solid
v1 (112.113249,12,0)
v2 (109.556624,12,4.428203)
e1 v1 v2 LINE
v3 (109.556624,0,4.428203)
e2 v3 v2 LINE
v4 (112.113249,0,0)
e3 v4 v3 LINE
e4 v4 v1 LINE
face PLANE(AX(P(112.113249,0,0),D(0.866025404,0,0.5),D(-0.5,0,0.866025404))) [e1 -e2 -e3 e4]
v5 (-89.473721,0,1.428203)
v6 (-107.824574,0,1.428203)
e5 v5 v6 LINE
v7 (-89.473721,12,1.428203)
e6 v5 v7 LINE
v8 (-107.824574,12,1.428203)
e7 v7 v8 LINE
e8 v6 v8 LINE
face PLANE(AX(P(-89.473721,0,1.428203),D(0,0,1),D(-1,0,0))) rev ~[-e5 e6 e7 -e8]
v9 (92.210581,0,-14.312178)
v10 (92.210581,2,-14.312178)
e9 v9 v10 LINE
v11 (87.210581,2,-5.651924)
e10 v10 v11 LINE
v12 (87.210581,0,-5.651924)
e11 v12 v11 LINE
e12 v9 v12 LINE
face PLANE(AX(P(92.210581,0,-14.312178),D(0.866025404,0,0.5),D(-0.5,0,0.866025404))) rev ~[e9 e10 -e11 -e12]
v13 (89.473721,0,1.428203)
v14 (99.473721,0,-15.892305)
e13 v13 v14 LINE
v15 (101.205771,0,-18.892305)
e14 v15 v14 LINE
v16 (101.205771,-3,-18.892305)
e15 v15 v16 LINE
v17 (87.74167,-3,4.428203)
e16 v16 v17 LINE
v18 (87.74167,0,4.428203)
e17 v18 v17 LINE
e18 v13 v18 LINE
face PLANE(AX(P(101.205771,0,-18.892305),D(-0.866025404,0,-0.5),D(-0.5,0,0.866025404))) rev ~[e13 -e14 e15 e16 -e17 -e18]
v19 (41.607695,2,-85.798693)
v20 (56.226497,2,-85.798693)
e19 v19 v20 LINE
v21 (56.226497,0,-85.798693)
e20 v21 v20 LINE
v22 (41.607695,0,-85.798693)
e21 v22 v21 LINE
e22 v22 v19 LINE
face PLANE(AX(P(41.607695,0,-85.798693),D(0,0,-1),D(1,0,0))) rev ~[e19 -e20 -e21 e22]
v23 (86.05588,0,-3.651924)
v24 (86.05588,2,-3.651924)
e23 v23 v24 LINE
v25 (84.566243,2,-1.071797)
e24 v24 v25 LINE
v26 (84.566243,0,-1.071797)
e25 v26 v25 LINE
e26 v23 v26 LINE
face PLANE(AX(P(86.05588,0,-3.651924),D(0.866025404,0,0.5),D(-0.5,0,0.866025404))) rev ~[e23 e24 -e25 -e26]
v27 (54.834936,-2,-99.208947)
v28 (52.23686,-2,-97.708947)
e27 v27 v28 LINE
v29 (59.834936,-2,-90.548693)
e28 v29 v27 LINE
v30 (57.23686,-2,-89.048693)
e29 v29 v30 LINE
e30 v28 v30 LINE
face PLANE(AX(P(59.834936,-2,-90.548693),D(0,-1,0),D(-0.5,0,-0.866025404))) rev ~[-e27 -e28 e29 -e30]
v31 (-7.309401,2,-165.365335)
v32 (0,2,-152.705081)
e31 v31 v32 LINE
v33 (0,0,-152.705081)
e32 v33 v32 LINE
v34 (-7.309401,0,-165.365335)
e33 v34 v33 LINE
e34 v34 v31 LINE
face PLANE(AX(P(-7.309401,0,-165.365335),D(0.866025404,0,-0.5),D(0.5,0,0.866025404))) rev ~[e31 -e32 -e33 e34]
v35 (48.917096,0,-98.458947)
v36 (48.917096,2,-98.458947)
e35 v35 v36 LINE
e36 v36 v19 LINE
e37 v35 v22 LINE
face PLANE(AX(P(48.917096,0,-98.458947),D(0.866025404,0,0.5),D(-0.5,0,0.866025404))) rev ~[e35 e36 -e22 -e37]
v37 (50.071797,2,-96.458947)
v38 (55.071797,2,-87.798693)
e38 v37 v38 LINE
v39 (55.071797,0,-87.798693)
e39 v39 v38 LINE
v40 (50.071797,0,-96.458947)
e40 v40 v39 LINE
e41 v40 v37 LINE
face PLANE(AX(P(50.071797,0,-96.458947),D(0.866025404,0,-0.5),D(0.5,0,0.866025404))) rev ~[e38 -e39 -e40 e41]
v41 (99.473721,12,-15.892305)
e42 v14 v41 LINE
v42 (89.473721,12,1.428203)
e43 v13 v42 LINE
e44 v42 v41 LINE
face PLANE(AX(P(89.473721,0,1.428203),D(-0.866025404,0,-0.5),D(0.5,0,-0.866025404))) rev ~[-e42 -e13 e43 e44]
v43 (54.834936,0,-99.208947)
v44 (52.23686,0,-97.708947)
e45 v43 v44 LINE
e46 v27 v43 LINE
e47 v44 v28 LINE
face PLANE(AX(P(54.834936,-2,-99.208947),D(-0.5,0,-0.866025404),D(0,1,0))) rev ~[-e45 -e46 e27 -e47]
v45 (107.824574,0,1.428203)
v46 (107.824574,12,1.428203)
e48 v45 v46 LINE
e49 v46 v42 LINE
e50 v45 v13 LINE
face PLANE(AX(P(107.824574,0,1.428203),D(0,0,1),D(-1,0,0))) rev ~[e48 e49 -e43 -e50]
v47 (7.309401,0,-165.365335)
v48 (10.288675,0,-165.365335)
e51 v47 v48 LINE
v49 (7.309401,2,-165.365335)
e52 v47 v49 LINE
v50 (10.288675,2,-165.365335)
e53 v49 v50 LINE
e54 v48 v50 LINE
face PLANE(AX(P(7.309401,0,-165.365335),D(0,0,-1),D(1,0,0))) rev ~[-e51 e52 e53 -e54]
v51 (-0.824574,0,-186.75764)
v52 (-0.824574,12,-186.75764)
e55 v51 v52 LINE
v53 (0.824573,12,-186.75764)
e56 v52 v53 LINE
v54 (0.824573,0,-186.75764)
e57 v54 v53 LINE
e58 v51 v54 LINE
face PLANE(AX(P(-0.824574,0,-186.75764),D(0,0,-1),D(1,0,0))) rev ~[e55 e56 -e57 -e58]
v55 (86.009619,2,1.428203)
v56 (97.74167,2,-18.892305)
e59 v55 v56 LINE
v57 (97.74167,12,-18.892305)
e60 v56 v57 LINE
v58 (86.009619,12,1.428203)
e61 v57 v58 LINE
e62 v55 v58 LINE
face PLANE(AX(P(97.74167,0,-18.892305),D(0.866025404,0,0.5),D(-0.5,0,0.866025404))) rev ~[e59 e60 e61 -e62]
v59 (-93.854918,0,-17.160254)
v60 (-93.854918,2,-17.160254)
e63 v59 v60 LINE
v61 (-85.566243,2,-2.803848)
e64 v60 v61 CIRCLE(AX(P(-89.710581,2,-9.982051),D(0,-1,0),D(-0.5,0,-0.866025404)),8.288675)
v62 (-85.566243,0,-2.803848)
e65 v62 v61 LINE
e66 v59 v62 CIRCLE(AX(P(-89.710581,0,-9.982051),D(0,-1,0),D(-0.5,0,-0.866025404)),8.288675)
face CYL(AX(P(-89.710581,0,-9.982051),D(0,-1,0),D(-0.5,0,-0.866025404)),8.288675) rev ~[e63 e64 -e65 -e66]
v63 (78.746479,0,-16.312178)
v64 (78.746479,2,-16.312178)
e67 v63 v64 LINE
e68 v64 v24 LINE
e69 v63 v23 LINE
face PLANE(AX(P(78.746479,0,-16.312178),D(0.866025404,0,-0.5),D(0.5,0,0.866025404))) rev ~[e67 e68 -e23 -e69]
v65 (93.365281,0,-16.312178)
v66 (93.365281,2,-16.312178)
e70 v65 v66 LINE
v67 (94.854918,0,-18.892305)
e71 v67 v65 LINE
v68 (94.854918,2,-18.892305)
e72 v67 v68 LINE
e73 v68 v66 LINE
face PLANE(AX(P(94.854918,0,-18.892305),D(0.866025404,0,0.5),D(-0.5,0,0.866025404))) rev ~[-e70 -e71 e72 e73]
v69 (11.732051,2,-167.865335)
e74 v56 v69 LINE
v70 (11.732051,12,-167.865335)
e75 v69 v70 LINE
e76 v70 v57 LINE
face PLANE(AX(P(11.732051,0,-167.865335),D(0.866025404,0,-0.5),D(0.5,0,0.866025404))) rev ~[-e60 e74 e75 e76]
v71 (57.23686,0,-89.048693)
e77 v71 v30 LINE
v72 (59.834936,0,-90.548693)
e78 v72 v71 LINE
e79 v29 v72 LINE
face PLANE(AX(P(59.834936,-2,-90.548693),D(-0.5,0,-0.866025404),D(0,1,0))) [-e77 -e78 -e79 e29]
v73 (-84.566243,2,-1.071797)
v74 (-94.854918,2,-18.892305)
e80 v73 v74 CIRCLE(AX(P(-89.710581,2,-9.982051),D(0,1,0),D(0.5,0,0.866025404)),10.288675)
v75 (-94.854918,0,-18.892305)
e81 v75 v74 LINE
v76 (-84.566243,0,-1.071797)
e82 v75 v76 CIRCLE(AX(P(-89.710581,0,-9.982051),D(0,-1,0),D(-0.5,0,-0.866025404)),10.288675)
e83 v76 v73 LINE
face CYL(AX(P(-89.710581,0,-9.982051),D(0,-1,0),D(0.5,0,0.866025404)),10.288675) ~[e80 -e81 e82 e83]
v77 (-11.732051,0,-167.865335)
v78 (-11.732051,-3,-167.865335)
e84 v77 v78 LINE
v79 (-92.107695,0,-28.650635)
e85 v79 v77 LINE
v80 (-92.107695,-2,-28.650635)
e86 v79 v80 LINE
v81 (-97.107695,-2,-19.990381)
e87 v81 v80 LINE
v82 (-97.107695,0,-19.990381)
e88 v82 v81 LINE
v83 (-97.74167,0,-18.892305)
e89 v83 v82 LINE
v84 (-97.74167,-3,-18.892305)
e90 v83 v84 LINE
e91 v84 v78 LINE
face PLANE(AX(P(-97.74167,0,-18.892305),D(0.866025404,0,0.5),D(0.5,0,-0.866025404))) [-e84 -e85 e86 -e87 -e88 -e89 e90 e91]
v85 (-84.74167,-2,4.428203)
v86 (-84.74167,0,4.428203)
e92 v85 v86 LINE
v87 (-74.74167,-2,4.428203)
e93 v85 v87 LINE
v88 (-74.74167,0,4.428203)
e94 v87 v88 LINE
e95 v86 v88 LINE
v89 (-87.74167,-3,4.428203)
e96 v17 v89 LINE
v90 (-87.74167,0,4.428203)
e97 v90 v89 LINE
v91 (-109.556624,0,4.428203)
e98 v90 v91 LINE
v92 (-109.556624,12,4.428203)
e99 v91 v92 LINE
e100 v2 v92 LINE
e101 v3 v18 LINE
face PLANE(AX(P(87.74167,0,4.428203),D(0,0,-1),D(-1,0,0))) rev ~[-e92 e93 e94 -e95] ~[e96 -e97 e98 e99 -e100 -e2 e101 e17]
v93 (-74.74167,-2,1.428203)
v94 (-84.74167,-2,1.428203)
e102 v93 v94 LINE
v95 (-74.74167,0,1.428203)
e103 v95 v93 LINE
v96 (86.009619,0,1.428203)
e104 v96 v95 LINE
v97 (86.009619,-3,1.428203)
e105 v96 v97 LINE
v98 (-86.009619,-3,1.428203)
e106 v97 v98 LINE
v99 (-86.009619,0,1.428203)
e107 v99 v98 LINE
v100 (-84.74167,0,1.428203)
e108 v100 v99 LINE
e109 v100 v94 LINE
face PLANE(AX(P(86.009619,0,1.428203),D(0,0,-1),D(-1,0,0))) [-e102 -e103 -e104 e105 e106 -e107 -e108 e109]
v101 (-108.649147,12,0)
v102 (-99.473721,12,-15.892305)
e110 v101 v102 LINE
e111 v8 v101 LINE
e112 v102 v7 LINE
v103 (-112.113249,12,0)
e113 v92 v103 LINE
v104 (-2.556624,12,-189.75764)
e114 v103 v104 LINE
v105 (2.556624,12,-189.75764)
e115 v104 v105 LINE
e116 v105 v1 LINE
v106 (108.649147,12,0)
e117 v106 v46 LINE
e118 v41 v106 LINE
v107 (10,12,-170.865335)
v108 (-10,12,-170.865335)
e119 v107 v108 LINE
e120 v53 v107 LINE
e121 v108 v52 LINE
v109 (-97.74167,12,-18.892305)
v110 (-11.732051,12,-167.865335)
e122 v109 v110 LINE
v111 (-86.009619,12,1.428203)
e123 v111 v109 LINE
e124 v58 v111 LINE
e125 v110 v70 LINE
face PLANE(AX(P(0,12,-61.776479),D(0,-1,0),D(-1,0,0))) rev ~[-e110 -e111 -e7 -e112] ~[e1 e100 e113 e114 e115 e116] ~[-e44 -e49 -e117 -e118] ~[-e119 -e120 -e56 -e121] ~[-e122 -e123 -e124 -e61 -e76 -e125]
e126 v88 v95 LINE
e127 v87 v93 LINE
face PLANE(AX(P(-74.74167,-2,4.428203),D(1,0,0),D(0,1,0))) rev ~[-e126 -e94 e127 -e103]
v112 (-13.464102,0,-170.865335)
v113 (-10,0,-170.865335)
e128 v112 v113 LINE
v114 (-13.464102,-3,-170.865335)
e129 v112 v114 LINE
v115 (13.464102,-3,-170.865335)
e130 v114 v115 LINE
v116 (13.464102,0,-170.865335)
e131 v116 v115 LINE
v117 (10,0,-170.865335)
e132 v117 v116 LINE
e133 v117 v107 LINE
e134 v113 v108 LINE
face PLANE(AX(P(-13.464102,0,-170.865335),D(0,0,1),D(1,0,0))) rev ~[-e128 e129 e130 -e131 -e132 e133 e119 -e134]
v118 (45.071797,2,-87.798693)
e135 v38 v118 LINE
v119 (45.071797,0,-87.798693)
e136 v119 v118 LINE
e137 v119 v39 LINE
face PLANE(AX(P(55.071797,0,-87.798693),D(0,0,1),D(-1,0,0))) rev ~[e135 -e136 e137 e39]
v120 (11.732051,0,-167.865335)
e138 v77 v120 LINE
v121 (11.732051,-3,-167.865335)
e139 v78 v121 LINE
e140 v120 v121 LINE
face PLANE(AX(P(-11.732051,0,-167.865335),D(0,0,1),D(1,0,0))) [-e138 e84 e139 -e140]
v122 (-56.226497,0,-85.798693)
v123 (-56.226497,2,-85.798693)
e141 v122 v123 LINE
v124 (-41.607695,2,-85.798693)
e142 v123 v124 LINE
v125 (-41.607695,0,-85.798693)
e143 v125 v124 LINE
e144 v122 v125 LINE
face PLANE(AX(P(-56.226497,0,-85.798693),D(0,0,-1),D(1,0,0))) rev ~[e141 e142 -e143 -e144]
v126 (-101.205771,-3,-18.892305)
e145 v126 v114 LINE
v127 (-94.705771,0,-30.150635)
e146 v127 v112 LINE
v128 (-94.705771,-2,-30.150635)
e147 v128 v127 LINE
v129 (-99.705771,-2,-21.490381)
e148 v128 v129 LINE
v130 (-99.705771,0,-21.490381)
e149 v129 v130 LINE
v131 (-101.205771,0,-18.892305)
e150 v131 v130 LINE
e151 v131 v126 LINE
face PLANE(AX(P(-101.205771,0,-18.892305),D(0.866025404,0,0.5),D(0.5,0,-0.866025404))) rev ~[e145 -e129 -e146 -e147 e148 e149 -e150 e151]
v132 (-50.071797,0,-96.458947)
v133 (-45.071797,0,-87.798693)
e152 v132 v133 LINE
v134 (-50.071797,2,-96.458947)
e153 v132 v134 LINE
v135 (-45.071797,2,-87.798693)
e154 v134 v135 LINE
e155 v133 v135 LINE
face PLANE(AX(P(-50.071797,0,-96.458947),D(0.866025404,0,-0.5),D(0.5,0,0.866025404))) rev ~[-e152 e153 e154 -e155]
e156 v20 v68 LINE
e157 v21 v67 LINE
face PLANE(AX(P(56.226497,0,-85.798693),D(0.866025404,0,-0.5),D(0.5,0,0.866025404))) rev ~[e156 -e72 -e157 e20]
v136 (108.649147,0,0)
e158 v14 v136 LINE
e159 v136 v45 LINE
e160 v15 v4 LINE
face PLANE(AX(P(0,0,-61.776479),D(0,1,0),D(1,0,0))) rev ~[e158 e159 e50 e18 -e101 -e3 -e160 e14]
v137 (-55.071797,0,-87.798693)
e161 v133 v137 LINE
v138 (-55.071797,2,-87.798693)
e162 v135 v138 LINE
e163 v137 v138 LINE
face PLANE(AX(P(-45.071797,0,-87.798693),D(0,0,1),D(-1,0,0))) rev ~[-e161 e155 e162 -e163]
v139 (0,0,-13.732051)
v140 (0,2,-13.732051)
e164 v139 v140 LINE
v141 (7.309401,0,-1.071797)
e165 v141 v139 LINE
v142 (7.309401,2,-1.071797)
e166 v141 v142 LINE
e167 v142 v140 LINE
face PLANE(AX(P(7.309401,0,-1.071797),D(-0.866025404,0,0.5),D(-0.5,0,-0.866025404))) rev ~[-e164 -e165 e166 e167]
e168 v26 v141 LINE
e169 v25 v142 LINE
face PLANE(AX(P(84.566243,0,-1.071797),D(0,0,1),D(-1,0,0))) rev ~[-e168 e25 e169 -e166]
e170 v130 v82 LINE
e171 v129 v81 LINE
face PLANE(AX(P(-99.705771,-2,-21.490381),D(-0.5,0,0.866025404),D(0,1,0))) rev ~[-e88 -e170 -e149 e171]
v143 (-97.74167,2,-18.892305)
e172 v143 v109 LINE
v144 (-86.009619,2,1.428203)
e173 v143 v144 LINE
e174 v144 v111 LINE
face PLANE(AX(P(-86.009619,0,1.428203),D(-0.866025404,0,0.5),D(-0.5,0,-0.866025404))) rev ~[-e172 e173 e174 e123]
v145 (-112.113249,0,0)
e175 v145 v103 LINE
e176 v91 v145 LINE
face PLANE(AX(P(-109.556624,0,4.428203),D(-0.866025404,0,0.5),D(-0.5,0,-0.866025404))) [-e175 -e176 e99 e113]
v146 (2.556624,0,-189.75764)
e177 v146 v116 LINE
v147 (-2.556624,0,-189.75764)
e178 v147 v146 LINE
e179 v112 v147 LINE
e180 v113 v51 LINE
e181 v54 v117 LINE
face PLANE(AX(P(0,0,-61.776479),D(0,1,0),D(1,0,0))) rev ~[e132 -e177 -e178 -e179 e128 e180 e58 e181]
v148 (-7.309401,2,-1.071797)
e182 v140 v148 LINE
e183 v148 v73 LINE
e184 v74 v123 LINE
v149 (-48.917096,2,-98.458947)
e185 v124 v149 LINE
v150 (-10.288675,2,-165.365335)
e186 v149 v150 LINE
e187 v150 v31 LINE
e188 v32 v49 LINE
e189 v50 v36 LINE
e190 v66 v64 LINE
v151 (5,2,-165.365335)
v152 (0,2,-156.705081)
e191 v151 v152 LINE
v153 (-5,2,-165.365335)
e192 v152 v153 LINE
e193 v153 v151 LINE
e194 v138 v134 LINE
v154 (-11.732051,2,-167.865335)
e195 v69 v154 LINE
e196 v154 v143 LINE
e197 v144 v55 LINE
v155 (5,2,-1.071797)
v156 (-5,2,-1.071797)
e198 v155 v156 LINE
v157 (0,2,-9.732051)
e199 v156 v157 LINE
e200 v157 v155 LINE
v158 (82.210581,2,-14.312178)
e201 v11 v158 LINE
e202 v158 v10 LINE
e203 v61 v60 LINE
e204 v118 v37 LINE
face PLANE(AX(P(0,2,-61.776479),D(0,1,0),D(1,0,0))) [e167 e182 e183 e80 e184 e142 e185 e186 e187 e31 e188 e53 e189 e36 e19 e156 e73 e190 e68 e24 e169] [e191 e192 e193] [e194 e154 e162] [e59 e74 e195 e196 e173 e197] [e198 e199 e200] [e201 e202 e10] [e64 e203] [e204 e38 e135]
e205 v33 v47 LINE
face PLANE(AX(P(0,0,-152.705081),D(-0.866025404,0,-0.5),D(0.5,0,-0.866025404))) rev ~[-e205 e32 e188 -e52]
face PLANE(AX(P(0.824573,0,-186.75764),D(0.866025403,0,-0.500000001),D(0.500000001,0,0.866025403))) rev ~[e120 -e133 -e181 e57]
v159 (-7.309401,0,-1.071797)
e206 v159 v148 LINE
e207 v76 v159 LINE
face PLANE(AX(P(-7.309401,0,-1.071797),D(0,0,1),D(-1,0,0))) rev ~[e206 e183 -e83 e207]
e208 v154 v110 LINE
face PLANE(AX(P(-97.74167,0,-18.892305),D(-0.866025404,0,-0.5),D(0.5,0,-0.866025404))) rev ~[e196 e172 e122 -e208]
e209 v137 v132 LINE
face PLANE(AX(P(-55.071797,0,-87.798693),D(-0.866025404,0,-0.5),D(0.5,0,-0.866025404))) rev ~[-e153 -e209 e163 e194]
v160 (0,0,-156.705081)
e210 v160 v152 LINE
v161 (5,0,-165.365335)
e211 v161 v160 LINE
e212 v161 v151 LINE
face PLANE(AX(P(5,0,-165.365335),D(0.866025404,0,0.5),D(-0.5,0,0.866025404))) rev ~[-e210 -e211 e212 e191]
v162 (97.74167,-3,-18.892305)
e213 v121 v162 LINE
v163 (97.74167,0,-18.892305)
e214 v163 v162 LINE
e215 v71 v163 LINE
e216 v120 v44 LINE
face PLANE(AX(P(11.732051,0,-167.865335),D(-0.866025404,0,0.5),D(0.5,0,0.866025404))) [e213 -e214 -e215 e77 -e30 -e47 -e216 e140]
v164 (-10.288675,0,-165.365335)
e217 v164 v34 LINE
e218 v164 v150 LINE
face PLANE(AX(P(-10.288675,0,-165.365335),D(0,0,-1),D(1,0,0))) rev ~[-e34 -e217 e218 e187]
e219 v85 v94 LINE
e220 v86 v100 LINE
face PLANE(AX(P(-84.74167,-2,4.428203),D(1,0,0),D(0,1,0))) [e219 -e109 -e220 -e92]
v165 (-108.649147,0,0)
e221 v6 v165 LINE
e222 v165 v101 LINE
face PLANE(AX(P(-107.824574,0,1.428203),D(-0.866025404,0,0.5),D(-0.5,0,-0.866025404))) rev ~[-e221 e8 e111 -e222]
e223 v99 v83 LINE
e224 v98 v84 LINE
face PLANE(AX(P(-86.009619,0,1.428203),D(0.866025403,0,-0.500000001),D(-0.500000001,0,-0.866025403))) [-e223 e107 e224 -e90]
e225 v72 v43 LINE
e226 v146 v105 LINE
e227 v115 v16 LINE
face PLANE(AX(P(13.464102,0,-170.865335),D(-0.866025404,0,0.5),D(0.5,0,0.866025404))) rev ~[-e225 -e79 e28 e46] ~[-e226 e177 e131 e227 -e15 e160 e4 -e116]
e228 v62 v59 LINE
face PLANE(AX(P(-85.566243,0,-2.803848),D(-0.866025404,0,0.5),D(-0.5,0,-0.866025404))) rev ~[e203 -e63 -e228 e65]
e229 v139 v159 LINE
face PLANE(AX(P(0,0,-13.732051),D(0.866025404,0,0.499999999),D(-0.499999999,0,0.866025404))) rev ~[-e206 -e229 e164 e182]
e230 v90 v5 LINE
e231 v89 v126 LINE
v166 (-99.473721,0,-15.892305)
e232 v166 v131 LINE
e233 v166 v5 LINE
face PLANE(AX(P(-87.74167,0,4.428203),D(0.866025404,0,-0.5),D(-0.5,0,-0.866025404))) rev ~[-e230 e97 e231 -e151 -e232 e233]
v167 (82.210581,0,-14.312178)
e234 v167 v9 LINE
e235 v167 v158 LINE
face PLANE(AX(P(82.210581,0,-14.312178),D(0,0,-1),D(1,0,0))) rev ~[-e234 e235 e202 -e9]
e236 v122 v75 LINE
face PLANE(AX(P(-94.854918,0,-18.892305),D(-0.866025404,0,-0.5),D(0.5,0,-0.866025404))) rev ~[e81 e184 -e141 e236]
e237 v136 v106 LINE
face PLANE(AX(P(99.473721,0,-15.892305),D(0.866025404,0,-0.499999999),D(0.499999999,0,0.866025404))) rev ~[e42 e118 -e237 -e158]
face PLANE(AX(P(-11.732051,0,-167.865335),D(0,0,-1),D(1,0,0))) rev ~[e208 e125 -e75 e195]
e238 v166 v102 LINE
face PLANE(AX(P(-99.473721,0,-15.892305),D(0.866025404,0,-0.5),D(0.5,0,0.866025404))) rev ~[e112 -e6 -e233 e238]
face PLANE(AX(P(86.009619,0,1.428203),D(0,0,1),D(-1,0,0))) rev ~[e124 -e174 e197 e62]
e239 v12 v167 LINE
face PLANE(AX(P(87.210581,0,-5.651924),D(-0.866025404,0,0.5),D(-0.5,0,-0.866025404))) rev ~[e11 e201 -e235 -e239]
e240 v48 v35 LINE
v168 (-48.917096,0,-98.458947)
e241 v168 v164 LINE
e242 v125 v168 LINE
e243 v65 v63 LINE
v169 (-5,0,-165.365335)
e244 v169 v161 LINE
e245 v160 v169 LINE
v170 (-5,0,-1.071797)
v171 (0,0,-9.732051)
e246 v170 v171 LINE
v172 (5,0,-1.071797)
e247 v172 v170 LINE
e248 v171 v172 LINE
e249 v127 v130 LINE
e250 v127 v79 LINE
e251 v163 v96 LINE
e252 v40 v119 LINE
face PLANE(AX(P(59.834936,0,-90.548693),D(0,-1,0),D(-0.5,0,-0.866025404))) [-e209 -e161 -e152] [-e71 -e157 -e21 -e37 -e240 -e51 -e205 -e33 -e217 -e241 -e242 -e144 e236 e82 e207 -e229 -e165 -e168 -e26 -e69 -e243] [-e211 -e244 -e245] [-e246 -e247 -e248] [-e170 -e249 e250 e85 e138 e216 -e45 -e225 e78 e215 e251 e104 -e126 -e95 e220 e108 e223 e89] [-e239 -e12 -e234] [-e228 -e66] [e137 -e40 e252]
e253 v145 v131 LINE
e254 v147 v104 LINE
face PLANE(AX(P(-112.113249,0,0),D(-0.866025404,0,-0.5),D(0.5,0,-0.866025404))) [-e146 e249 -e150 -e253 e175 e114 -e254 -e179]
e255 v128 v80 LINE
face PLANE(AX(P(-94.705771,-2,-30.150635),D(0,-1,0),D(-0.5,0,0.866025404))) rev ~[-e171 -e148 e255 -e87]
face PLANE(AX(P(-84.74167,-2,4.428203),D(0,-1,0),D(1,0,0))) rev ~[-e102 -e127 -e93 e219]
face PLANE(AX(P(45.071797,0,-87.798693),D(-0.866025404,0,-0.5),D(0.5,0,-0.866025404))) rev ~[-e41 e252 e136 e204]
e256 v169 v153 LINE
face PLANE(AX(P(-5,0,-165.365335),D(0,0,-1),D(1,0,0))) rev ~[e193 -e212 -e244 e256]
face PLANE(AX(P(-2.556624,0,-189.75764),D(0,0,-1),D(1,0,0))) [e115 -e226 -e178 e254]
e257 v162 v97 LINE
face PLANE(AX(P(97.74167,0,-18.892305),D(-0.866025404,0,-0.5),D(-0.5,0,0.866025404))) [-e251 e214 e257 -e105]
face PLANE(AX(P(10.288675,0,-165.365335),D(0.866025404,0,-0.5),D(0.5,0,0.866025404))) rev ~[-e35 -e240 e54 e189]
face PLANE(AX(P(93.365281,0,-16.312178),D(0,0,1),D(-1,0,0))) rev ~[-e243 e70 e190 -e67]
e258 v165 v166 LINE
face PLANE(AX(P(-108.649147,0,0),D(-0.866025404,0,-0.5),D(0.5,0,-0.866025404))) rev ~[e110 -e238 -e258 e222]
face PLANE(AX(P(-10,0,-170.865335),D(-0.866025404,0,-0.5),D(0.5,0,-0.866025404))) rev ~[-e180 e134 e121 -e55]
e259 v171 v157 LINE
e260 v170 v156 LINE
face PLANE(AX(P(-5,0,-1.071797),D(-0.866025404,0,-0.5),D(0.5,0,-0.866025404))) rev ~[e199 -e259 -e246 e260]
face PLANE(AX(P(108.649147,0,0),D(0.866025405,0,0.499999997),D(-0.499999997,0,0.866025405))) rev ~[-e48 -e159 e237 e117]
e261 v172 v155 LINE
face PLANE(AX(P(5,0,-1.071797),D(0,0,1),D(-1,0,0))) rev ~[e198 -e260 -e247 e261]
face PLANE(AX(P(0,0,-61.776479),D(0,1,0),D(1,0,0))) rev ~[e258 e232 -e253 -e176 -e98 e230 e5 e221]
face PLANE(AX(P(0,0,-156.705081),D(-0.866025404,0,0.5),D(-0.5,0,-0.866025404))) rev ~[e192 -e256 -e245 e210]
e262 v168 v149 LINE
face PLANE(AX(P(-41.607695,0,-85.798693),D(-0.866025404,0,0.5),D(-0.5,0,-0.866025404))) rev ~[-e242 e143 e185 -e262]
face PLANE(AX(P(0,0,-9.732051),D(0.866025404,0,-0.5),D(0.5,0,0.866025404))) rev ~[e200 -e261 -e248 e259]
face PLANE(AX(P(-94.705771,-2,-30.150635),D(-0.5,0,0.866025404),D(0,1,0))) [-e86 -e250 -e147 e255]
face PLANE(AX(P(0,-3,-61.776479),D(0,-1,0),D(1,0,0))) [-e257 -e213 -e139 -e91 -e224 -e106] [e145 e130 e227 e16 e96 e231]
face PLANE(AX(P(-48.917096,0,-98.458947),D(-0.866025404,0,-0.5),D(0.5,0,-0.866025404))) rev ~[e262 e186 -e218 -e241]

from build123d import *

# Parameters (mm, degrees)
BOSS_EXTRUDE1_DEPTH = 12
BOSS_EXTRUDE2_DEPTH = 2
BOSS_EXTRUDE3_DEPTH = 3
SKETCH4_W           = 10
SKETCH4_H           = 2
CUT_EXTRUDE1_DEPTH  = 6
SKETCH5_W           = 10
SKETCH5_H           = 2
CUT_EXTRUDE2_DEPTH  = 6
SKETCH6_W           = 10
SKETCH6_H           = 2
CUT_EXTRUDE3_DEPTH  = 6


with BuildPart() as part:
    # Sketch1 → Boss-Extrude1 (new body)
    with BuildSketch(Plane(origin=(0, 0, 0), x_dir=(1, 0, 0), z_dir=(0, 1, 0))):
        Polygon((109.556624327, -4.42820323), (-109.556624327, -4.42820323), (-112.113248654, 0), (-2.55662435, 189.757639654), (2.556624303, 189.757639654), (112.113248654, 0), align=None)
        Polygon((-107.82457352, -1.42820323), (-108.649147039, 0), (-99.473720558, 15.892304845), (-89.473720559, -1.42820323), align=None, mode=Mode.SUBTRACT)
        Polygon((-0.824573543, 186.757639627), (0.824573481, 186.757639627), (9.999999979, 170.86533478), (-10.000000021, 170.86533478), align=None, mode=Mode.SUBTRACT)
        Polygon((108.649147039, 0), (107.82457353, -1.428203222), (89.473720569, -1.428203222), (99.473720569, 15.892304853), align=None, mode=Mode.SUBTRACT)
        Polygon((-11.732050803, 167.865334802), (11.732050803, 167.865334802), (97.741669765, 18.89230486), (86.00961895, -1.428203229), (-86.009618944, -1.428203229), (-97.741669751, 18.892304845), align=None, mode=Mode.SUBTRACT)
    extrude(amount=BOSS_EXTRUDE1_DEPTH)

    # Sketch1<4> → Boss-Extrude2 (add)
    with BuildSketch(Plane(origin=(0, 0, 0), x_dir=(1, 0, 0), z_dir=(0, 1, 0))):
        Polygon((11.732050803, 167.865334802), (-11.732050803, 167.865334802), (-97.741669751, 18.892304845), (-86.009618944, -1.428203229), (86.00961895, -1.428203229), (97.741669765, 18.89230486), align=None)
        with BuildLine():
            Line((-85.566243251, 2.803847594), (-93.854918378, 17.160254041))
            ThreePointArc((-93.854918378, 17.160254041), (-82.532377591, 14.126388381), (-85.566243251, 2.803847594))
        make_face(mode=Mode.SUBTRACT)
        Polygon((-1e-08, 9.732050841), (4.99999999, 1.071796803), (-5.00000001, 1.071796803), align=None, mode=Mode.SUBTRACT)
        Polygon((-45.071796745, 87.798692801), (-55.071796745, 87.798692801), (-50.071796745, 96.458946839), align=None, mode=Mode.SUBTRACT)
        Polygon((82.210580848, 14.312177834), (92.210580848, 14.312177834), (87.210580848, 5.651923796), align=None, mode=Mode.SUBTRACT)
        with BuildLine():
            Line((48.91709624, 98.458946834), (41.607695163, 85.798692796))
            Line((41.607695163, 85.798692796), (56.226497316, 85.798692796))
            Line((56.226497316, 85.798692796), (94.854918412, 18.892304841))
            Line((94.854918412, 18.892304841), (93.36528139, 16.312177834))
            Line((93.36528139, 16.312177834), (78.746479233, 16.312177834))
            Line((78.746479233, 16.312177834), (86.055880312, 3.651923793))
            Line((86.055880312, 3.651923793), (84.566243293, 1.071796793))
            Line((84.566243293, 1.071796793), (7.309401088, 1.071796793))
            Line((7.309401088, 1.071796793), (2e-09, 13.732050847))
            Line((2e-09, 13.732050847), (-7.309401077, 1.071796786))
            Line((-7.309401077, 1.071796786), (-84.566243251, 1.071796786))
            ThreePointArc((-84.566243251, 1.071796786), (-80.800326783, 15.126388381), (-94.854918378, 18.892304849))
            Line((-94.854918378, 18.892304849), (-56.226497283, 85.798692801))
            Line((-56.226497283, 85.798692801), (-41.60769513, 85.798692801))
            Line((-41.60769513, 85.798692801), (-48.917096207, 98.458946839))
            Line((-48.917096207, 98.458946839), (-10.288675112, 165.365334792))
            Line((-10.288675112, 165.365334792), (-7.309401077, 165.365334792))
            Line((-7.309401077, 165.365334792), (0, 152.705080754))
            Line((0, 152.705080754), (7.309401077, 165.365334792))
            Line((7.309401077, 165.365334792), (10.288675142, 165.365334792))
            Line((10.288675142, 165.365334792), (48.91709624, 98.458946834))
        make_face(mode=Mode.SUBTRACT)
        Polygon((45.071796778, 87.798692803), (50.071796778, 96.458946841), (55.071796778, 87.798692803), align=None, mode=Mode.SUBTRACT)
        Polygon((0, 156.705080761), (-5, 165.365334799), (5, 165.365334799), align=None, mode=Mode.SUBTRACT)
    extrude(amount=BOSS_EXTRUDE2_DEPTH)

    # Sketch2 → Boss-Extrude3 (add)
    with BuildSketch(Plane.XZ):
        Polygon((101.205771363, -18.892304847), (87.741669751, 4.42820323), (-87.741669751, 4.42820323), (-101.205771368, -18.892304847), (-13.464101652, -170.86533478), (13.464101609, -170.86533478), align=None)
        Polygon((-11.732050819, -167.865334802), (11.732050795, -167.865334802), (97.741669739, -18.892304852), (86.009618931, 1.42820323), (-86.009618931, 1.42820323), (-97.741669763, -18.892304852), align=None, mode=Mode.SUBTRACT)
    extrude(amount=BOSS_EXTRUDE3_DEPTH)

    # Sketch4 → Cut-Extrude1 (cut)
    with BuildSketch(Plane.XY.offset(4.42820323)):
        with Locations((-79.741669751, -1)):
            Rectangle(SKETCH4_W, SKETCH4_H)
    extrude(amount=-CUT_EXTRUDE1_DEPTH, mode=Mode.SUBTRACT)

    # Sketch5 → Cut-Extrude2 (cut)
    with BuildSketch(Plane(origin=(-84.084936503, 0, -48.546460711), x_dir=(-0.4999999998935114, 0, 0.86602540384592), z_dir=(-0.86602540384592, 0, -0.4999999998935114))):
        with Locations((26.241669739, -1)):
            Rectangle(SKETCH5_W, SKETCH5_H)
    extrude(amount=-CUT_EXTRUDE2_DEPTH, mode=Mode.SUBTRACT)

    # Sketch6 → Cut-Extrude3 (cut)
    with BuildSketch(Plane(origin=(84.084936484, 0, -48.546460721), x_dir=(-0.5000000000540236, 0, -0.8660254037532481), z_dir=(0.8660254037532481, 0, -0.5000000000540236))):
        with Locations((53.499999991, -1)):
            Rectangle(SKETCH6_W, SKETCH6_H)
    extrude(amount=-CUT_EXTRUDE3_DEPTH, mode=Mode.SUBTRACT)


solid = part.part
